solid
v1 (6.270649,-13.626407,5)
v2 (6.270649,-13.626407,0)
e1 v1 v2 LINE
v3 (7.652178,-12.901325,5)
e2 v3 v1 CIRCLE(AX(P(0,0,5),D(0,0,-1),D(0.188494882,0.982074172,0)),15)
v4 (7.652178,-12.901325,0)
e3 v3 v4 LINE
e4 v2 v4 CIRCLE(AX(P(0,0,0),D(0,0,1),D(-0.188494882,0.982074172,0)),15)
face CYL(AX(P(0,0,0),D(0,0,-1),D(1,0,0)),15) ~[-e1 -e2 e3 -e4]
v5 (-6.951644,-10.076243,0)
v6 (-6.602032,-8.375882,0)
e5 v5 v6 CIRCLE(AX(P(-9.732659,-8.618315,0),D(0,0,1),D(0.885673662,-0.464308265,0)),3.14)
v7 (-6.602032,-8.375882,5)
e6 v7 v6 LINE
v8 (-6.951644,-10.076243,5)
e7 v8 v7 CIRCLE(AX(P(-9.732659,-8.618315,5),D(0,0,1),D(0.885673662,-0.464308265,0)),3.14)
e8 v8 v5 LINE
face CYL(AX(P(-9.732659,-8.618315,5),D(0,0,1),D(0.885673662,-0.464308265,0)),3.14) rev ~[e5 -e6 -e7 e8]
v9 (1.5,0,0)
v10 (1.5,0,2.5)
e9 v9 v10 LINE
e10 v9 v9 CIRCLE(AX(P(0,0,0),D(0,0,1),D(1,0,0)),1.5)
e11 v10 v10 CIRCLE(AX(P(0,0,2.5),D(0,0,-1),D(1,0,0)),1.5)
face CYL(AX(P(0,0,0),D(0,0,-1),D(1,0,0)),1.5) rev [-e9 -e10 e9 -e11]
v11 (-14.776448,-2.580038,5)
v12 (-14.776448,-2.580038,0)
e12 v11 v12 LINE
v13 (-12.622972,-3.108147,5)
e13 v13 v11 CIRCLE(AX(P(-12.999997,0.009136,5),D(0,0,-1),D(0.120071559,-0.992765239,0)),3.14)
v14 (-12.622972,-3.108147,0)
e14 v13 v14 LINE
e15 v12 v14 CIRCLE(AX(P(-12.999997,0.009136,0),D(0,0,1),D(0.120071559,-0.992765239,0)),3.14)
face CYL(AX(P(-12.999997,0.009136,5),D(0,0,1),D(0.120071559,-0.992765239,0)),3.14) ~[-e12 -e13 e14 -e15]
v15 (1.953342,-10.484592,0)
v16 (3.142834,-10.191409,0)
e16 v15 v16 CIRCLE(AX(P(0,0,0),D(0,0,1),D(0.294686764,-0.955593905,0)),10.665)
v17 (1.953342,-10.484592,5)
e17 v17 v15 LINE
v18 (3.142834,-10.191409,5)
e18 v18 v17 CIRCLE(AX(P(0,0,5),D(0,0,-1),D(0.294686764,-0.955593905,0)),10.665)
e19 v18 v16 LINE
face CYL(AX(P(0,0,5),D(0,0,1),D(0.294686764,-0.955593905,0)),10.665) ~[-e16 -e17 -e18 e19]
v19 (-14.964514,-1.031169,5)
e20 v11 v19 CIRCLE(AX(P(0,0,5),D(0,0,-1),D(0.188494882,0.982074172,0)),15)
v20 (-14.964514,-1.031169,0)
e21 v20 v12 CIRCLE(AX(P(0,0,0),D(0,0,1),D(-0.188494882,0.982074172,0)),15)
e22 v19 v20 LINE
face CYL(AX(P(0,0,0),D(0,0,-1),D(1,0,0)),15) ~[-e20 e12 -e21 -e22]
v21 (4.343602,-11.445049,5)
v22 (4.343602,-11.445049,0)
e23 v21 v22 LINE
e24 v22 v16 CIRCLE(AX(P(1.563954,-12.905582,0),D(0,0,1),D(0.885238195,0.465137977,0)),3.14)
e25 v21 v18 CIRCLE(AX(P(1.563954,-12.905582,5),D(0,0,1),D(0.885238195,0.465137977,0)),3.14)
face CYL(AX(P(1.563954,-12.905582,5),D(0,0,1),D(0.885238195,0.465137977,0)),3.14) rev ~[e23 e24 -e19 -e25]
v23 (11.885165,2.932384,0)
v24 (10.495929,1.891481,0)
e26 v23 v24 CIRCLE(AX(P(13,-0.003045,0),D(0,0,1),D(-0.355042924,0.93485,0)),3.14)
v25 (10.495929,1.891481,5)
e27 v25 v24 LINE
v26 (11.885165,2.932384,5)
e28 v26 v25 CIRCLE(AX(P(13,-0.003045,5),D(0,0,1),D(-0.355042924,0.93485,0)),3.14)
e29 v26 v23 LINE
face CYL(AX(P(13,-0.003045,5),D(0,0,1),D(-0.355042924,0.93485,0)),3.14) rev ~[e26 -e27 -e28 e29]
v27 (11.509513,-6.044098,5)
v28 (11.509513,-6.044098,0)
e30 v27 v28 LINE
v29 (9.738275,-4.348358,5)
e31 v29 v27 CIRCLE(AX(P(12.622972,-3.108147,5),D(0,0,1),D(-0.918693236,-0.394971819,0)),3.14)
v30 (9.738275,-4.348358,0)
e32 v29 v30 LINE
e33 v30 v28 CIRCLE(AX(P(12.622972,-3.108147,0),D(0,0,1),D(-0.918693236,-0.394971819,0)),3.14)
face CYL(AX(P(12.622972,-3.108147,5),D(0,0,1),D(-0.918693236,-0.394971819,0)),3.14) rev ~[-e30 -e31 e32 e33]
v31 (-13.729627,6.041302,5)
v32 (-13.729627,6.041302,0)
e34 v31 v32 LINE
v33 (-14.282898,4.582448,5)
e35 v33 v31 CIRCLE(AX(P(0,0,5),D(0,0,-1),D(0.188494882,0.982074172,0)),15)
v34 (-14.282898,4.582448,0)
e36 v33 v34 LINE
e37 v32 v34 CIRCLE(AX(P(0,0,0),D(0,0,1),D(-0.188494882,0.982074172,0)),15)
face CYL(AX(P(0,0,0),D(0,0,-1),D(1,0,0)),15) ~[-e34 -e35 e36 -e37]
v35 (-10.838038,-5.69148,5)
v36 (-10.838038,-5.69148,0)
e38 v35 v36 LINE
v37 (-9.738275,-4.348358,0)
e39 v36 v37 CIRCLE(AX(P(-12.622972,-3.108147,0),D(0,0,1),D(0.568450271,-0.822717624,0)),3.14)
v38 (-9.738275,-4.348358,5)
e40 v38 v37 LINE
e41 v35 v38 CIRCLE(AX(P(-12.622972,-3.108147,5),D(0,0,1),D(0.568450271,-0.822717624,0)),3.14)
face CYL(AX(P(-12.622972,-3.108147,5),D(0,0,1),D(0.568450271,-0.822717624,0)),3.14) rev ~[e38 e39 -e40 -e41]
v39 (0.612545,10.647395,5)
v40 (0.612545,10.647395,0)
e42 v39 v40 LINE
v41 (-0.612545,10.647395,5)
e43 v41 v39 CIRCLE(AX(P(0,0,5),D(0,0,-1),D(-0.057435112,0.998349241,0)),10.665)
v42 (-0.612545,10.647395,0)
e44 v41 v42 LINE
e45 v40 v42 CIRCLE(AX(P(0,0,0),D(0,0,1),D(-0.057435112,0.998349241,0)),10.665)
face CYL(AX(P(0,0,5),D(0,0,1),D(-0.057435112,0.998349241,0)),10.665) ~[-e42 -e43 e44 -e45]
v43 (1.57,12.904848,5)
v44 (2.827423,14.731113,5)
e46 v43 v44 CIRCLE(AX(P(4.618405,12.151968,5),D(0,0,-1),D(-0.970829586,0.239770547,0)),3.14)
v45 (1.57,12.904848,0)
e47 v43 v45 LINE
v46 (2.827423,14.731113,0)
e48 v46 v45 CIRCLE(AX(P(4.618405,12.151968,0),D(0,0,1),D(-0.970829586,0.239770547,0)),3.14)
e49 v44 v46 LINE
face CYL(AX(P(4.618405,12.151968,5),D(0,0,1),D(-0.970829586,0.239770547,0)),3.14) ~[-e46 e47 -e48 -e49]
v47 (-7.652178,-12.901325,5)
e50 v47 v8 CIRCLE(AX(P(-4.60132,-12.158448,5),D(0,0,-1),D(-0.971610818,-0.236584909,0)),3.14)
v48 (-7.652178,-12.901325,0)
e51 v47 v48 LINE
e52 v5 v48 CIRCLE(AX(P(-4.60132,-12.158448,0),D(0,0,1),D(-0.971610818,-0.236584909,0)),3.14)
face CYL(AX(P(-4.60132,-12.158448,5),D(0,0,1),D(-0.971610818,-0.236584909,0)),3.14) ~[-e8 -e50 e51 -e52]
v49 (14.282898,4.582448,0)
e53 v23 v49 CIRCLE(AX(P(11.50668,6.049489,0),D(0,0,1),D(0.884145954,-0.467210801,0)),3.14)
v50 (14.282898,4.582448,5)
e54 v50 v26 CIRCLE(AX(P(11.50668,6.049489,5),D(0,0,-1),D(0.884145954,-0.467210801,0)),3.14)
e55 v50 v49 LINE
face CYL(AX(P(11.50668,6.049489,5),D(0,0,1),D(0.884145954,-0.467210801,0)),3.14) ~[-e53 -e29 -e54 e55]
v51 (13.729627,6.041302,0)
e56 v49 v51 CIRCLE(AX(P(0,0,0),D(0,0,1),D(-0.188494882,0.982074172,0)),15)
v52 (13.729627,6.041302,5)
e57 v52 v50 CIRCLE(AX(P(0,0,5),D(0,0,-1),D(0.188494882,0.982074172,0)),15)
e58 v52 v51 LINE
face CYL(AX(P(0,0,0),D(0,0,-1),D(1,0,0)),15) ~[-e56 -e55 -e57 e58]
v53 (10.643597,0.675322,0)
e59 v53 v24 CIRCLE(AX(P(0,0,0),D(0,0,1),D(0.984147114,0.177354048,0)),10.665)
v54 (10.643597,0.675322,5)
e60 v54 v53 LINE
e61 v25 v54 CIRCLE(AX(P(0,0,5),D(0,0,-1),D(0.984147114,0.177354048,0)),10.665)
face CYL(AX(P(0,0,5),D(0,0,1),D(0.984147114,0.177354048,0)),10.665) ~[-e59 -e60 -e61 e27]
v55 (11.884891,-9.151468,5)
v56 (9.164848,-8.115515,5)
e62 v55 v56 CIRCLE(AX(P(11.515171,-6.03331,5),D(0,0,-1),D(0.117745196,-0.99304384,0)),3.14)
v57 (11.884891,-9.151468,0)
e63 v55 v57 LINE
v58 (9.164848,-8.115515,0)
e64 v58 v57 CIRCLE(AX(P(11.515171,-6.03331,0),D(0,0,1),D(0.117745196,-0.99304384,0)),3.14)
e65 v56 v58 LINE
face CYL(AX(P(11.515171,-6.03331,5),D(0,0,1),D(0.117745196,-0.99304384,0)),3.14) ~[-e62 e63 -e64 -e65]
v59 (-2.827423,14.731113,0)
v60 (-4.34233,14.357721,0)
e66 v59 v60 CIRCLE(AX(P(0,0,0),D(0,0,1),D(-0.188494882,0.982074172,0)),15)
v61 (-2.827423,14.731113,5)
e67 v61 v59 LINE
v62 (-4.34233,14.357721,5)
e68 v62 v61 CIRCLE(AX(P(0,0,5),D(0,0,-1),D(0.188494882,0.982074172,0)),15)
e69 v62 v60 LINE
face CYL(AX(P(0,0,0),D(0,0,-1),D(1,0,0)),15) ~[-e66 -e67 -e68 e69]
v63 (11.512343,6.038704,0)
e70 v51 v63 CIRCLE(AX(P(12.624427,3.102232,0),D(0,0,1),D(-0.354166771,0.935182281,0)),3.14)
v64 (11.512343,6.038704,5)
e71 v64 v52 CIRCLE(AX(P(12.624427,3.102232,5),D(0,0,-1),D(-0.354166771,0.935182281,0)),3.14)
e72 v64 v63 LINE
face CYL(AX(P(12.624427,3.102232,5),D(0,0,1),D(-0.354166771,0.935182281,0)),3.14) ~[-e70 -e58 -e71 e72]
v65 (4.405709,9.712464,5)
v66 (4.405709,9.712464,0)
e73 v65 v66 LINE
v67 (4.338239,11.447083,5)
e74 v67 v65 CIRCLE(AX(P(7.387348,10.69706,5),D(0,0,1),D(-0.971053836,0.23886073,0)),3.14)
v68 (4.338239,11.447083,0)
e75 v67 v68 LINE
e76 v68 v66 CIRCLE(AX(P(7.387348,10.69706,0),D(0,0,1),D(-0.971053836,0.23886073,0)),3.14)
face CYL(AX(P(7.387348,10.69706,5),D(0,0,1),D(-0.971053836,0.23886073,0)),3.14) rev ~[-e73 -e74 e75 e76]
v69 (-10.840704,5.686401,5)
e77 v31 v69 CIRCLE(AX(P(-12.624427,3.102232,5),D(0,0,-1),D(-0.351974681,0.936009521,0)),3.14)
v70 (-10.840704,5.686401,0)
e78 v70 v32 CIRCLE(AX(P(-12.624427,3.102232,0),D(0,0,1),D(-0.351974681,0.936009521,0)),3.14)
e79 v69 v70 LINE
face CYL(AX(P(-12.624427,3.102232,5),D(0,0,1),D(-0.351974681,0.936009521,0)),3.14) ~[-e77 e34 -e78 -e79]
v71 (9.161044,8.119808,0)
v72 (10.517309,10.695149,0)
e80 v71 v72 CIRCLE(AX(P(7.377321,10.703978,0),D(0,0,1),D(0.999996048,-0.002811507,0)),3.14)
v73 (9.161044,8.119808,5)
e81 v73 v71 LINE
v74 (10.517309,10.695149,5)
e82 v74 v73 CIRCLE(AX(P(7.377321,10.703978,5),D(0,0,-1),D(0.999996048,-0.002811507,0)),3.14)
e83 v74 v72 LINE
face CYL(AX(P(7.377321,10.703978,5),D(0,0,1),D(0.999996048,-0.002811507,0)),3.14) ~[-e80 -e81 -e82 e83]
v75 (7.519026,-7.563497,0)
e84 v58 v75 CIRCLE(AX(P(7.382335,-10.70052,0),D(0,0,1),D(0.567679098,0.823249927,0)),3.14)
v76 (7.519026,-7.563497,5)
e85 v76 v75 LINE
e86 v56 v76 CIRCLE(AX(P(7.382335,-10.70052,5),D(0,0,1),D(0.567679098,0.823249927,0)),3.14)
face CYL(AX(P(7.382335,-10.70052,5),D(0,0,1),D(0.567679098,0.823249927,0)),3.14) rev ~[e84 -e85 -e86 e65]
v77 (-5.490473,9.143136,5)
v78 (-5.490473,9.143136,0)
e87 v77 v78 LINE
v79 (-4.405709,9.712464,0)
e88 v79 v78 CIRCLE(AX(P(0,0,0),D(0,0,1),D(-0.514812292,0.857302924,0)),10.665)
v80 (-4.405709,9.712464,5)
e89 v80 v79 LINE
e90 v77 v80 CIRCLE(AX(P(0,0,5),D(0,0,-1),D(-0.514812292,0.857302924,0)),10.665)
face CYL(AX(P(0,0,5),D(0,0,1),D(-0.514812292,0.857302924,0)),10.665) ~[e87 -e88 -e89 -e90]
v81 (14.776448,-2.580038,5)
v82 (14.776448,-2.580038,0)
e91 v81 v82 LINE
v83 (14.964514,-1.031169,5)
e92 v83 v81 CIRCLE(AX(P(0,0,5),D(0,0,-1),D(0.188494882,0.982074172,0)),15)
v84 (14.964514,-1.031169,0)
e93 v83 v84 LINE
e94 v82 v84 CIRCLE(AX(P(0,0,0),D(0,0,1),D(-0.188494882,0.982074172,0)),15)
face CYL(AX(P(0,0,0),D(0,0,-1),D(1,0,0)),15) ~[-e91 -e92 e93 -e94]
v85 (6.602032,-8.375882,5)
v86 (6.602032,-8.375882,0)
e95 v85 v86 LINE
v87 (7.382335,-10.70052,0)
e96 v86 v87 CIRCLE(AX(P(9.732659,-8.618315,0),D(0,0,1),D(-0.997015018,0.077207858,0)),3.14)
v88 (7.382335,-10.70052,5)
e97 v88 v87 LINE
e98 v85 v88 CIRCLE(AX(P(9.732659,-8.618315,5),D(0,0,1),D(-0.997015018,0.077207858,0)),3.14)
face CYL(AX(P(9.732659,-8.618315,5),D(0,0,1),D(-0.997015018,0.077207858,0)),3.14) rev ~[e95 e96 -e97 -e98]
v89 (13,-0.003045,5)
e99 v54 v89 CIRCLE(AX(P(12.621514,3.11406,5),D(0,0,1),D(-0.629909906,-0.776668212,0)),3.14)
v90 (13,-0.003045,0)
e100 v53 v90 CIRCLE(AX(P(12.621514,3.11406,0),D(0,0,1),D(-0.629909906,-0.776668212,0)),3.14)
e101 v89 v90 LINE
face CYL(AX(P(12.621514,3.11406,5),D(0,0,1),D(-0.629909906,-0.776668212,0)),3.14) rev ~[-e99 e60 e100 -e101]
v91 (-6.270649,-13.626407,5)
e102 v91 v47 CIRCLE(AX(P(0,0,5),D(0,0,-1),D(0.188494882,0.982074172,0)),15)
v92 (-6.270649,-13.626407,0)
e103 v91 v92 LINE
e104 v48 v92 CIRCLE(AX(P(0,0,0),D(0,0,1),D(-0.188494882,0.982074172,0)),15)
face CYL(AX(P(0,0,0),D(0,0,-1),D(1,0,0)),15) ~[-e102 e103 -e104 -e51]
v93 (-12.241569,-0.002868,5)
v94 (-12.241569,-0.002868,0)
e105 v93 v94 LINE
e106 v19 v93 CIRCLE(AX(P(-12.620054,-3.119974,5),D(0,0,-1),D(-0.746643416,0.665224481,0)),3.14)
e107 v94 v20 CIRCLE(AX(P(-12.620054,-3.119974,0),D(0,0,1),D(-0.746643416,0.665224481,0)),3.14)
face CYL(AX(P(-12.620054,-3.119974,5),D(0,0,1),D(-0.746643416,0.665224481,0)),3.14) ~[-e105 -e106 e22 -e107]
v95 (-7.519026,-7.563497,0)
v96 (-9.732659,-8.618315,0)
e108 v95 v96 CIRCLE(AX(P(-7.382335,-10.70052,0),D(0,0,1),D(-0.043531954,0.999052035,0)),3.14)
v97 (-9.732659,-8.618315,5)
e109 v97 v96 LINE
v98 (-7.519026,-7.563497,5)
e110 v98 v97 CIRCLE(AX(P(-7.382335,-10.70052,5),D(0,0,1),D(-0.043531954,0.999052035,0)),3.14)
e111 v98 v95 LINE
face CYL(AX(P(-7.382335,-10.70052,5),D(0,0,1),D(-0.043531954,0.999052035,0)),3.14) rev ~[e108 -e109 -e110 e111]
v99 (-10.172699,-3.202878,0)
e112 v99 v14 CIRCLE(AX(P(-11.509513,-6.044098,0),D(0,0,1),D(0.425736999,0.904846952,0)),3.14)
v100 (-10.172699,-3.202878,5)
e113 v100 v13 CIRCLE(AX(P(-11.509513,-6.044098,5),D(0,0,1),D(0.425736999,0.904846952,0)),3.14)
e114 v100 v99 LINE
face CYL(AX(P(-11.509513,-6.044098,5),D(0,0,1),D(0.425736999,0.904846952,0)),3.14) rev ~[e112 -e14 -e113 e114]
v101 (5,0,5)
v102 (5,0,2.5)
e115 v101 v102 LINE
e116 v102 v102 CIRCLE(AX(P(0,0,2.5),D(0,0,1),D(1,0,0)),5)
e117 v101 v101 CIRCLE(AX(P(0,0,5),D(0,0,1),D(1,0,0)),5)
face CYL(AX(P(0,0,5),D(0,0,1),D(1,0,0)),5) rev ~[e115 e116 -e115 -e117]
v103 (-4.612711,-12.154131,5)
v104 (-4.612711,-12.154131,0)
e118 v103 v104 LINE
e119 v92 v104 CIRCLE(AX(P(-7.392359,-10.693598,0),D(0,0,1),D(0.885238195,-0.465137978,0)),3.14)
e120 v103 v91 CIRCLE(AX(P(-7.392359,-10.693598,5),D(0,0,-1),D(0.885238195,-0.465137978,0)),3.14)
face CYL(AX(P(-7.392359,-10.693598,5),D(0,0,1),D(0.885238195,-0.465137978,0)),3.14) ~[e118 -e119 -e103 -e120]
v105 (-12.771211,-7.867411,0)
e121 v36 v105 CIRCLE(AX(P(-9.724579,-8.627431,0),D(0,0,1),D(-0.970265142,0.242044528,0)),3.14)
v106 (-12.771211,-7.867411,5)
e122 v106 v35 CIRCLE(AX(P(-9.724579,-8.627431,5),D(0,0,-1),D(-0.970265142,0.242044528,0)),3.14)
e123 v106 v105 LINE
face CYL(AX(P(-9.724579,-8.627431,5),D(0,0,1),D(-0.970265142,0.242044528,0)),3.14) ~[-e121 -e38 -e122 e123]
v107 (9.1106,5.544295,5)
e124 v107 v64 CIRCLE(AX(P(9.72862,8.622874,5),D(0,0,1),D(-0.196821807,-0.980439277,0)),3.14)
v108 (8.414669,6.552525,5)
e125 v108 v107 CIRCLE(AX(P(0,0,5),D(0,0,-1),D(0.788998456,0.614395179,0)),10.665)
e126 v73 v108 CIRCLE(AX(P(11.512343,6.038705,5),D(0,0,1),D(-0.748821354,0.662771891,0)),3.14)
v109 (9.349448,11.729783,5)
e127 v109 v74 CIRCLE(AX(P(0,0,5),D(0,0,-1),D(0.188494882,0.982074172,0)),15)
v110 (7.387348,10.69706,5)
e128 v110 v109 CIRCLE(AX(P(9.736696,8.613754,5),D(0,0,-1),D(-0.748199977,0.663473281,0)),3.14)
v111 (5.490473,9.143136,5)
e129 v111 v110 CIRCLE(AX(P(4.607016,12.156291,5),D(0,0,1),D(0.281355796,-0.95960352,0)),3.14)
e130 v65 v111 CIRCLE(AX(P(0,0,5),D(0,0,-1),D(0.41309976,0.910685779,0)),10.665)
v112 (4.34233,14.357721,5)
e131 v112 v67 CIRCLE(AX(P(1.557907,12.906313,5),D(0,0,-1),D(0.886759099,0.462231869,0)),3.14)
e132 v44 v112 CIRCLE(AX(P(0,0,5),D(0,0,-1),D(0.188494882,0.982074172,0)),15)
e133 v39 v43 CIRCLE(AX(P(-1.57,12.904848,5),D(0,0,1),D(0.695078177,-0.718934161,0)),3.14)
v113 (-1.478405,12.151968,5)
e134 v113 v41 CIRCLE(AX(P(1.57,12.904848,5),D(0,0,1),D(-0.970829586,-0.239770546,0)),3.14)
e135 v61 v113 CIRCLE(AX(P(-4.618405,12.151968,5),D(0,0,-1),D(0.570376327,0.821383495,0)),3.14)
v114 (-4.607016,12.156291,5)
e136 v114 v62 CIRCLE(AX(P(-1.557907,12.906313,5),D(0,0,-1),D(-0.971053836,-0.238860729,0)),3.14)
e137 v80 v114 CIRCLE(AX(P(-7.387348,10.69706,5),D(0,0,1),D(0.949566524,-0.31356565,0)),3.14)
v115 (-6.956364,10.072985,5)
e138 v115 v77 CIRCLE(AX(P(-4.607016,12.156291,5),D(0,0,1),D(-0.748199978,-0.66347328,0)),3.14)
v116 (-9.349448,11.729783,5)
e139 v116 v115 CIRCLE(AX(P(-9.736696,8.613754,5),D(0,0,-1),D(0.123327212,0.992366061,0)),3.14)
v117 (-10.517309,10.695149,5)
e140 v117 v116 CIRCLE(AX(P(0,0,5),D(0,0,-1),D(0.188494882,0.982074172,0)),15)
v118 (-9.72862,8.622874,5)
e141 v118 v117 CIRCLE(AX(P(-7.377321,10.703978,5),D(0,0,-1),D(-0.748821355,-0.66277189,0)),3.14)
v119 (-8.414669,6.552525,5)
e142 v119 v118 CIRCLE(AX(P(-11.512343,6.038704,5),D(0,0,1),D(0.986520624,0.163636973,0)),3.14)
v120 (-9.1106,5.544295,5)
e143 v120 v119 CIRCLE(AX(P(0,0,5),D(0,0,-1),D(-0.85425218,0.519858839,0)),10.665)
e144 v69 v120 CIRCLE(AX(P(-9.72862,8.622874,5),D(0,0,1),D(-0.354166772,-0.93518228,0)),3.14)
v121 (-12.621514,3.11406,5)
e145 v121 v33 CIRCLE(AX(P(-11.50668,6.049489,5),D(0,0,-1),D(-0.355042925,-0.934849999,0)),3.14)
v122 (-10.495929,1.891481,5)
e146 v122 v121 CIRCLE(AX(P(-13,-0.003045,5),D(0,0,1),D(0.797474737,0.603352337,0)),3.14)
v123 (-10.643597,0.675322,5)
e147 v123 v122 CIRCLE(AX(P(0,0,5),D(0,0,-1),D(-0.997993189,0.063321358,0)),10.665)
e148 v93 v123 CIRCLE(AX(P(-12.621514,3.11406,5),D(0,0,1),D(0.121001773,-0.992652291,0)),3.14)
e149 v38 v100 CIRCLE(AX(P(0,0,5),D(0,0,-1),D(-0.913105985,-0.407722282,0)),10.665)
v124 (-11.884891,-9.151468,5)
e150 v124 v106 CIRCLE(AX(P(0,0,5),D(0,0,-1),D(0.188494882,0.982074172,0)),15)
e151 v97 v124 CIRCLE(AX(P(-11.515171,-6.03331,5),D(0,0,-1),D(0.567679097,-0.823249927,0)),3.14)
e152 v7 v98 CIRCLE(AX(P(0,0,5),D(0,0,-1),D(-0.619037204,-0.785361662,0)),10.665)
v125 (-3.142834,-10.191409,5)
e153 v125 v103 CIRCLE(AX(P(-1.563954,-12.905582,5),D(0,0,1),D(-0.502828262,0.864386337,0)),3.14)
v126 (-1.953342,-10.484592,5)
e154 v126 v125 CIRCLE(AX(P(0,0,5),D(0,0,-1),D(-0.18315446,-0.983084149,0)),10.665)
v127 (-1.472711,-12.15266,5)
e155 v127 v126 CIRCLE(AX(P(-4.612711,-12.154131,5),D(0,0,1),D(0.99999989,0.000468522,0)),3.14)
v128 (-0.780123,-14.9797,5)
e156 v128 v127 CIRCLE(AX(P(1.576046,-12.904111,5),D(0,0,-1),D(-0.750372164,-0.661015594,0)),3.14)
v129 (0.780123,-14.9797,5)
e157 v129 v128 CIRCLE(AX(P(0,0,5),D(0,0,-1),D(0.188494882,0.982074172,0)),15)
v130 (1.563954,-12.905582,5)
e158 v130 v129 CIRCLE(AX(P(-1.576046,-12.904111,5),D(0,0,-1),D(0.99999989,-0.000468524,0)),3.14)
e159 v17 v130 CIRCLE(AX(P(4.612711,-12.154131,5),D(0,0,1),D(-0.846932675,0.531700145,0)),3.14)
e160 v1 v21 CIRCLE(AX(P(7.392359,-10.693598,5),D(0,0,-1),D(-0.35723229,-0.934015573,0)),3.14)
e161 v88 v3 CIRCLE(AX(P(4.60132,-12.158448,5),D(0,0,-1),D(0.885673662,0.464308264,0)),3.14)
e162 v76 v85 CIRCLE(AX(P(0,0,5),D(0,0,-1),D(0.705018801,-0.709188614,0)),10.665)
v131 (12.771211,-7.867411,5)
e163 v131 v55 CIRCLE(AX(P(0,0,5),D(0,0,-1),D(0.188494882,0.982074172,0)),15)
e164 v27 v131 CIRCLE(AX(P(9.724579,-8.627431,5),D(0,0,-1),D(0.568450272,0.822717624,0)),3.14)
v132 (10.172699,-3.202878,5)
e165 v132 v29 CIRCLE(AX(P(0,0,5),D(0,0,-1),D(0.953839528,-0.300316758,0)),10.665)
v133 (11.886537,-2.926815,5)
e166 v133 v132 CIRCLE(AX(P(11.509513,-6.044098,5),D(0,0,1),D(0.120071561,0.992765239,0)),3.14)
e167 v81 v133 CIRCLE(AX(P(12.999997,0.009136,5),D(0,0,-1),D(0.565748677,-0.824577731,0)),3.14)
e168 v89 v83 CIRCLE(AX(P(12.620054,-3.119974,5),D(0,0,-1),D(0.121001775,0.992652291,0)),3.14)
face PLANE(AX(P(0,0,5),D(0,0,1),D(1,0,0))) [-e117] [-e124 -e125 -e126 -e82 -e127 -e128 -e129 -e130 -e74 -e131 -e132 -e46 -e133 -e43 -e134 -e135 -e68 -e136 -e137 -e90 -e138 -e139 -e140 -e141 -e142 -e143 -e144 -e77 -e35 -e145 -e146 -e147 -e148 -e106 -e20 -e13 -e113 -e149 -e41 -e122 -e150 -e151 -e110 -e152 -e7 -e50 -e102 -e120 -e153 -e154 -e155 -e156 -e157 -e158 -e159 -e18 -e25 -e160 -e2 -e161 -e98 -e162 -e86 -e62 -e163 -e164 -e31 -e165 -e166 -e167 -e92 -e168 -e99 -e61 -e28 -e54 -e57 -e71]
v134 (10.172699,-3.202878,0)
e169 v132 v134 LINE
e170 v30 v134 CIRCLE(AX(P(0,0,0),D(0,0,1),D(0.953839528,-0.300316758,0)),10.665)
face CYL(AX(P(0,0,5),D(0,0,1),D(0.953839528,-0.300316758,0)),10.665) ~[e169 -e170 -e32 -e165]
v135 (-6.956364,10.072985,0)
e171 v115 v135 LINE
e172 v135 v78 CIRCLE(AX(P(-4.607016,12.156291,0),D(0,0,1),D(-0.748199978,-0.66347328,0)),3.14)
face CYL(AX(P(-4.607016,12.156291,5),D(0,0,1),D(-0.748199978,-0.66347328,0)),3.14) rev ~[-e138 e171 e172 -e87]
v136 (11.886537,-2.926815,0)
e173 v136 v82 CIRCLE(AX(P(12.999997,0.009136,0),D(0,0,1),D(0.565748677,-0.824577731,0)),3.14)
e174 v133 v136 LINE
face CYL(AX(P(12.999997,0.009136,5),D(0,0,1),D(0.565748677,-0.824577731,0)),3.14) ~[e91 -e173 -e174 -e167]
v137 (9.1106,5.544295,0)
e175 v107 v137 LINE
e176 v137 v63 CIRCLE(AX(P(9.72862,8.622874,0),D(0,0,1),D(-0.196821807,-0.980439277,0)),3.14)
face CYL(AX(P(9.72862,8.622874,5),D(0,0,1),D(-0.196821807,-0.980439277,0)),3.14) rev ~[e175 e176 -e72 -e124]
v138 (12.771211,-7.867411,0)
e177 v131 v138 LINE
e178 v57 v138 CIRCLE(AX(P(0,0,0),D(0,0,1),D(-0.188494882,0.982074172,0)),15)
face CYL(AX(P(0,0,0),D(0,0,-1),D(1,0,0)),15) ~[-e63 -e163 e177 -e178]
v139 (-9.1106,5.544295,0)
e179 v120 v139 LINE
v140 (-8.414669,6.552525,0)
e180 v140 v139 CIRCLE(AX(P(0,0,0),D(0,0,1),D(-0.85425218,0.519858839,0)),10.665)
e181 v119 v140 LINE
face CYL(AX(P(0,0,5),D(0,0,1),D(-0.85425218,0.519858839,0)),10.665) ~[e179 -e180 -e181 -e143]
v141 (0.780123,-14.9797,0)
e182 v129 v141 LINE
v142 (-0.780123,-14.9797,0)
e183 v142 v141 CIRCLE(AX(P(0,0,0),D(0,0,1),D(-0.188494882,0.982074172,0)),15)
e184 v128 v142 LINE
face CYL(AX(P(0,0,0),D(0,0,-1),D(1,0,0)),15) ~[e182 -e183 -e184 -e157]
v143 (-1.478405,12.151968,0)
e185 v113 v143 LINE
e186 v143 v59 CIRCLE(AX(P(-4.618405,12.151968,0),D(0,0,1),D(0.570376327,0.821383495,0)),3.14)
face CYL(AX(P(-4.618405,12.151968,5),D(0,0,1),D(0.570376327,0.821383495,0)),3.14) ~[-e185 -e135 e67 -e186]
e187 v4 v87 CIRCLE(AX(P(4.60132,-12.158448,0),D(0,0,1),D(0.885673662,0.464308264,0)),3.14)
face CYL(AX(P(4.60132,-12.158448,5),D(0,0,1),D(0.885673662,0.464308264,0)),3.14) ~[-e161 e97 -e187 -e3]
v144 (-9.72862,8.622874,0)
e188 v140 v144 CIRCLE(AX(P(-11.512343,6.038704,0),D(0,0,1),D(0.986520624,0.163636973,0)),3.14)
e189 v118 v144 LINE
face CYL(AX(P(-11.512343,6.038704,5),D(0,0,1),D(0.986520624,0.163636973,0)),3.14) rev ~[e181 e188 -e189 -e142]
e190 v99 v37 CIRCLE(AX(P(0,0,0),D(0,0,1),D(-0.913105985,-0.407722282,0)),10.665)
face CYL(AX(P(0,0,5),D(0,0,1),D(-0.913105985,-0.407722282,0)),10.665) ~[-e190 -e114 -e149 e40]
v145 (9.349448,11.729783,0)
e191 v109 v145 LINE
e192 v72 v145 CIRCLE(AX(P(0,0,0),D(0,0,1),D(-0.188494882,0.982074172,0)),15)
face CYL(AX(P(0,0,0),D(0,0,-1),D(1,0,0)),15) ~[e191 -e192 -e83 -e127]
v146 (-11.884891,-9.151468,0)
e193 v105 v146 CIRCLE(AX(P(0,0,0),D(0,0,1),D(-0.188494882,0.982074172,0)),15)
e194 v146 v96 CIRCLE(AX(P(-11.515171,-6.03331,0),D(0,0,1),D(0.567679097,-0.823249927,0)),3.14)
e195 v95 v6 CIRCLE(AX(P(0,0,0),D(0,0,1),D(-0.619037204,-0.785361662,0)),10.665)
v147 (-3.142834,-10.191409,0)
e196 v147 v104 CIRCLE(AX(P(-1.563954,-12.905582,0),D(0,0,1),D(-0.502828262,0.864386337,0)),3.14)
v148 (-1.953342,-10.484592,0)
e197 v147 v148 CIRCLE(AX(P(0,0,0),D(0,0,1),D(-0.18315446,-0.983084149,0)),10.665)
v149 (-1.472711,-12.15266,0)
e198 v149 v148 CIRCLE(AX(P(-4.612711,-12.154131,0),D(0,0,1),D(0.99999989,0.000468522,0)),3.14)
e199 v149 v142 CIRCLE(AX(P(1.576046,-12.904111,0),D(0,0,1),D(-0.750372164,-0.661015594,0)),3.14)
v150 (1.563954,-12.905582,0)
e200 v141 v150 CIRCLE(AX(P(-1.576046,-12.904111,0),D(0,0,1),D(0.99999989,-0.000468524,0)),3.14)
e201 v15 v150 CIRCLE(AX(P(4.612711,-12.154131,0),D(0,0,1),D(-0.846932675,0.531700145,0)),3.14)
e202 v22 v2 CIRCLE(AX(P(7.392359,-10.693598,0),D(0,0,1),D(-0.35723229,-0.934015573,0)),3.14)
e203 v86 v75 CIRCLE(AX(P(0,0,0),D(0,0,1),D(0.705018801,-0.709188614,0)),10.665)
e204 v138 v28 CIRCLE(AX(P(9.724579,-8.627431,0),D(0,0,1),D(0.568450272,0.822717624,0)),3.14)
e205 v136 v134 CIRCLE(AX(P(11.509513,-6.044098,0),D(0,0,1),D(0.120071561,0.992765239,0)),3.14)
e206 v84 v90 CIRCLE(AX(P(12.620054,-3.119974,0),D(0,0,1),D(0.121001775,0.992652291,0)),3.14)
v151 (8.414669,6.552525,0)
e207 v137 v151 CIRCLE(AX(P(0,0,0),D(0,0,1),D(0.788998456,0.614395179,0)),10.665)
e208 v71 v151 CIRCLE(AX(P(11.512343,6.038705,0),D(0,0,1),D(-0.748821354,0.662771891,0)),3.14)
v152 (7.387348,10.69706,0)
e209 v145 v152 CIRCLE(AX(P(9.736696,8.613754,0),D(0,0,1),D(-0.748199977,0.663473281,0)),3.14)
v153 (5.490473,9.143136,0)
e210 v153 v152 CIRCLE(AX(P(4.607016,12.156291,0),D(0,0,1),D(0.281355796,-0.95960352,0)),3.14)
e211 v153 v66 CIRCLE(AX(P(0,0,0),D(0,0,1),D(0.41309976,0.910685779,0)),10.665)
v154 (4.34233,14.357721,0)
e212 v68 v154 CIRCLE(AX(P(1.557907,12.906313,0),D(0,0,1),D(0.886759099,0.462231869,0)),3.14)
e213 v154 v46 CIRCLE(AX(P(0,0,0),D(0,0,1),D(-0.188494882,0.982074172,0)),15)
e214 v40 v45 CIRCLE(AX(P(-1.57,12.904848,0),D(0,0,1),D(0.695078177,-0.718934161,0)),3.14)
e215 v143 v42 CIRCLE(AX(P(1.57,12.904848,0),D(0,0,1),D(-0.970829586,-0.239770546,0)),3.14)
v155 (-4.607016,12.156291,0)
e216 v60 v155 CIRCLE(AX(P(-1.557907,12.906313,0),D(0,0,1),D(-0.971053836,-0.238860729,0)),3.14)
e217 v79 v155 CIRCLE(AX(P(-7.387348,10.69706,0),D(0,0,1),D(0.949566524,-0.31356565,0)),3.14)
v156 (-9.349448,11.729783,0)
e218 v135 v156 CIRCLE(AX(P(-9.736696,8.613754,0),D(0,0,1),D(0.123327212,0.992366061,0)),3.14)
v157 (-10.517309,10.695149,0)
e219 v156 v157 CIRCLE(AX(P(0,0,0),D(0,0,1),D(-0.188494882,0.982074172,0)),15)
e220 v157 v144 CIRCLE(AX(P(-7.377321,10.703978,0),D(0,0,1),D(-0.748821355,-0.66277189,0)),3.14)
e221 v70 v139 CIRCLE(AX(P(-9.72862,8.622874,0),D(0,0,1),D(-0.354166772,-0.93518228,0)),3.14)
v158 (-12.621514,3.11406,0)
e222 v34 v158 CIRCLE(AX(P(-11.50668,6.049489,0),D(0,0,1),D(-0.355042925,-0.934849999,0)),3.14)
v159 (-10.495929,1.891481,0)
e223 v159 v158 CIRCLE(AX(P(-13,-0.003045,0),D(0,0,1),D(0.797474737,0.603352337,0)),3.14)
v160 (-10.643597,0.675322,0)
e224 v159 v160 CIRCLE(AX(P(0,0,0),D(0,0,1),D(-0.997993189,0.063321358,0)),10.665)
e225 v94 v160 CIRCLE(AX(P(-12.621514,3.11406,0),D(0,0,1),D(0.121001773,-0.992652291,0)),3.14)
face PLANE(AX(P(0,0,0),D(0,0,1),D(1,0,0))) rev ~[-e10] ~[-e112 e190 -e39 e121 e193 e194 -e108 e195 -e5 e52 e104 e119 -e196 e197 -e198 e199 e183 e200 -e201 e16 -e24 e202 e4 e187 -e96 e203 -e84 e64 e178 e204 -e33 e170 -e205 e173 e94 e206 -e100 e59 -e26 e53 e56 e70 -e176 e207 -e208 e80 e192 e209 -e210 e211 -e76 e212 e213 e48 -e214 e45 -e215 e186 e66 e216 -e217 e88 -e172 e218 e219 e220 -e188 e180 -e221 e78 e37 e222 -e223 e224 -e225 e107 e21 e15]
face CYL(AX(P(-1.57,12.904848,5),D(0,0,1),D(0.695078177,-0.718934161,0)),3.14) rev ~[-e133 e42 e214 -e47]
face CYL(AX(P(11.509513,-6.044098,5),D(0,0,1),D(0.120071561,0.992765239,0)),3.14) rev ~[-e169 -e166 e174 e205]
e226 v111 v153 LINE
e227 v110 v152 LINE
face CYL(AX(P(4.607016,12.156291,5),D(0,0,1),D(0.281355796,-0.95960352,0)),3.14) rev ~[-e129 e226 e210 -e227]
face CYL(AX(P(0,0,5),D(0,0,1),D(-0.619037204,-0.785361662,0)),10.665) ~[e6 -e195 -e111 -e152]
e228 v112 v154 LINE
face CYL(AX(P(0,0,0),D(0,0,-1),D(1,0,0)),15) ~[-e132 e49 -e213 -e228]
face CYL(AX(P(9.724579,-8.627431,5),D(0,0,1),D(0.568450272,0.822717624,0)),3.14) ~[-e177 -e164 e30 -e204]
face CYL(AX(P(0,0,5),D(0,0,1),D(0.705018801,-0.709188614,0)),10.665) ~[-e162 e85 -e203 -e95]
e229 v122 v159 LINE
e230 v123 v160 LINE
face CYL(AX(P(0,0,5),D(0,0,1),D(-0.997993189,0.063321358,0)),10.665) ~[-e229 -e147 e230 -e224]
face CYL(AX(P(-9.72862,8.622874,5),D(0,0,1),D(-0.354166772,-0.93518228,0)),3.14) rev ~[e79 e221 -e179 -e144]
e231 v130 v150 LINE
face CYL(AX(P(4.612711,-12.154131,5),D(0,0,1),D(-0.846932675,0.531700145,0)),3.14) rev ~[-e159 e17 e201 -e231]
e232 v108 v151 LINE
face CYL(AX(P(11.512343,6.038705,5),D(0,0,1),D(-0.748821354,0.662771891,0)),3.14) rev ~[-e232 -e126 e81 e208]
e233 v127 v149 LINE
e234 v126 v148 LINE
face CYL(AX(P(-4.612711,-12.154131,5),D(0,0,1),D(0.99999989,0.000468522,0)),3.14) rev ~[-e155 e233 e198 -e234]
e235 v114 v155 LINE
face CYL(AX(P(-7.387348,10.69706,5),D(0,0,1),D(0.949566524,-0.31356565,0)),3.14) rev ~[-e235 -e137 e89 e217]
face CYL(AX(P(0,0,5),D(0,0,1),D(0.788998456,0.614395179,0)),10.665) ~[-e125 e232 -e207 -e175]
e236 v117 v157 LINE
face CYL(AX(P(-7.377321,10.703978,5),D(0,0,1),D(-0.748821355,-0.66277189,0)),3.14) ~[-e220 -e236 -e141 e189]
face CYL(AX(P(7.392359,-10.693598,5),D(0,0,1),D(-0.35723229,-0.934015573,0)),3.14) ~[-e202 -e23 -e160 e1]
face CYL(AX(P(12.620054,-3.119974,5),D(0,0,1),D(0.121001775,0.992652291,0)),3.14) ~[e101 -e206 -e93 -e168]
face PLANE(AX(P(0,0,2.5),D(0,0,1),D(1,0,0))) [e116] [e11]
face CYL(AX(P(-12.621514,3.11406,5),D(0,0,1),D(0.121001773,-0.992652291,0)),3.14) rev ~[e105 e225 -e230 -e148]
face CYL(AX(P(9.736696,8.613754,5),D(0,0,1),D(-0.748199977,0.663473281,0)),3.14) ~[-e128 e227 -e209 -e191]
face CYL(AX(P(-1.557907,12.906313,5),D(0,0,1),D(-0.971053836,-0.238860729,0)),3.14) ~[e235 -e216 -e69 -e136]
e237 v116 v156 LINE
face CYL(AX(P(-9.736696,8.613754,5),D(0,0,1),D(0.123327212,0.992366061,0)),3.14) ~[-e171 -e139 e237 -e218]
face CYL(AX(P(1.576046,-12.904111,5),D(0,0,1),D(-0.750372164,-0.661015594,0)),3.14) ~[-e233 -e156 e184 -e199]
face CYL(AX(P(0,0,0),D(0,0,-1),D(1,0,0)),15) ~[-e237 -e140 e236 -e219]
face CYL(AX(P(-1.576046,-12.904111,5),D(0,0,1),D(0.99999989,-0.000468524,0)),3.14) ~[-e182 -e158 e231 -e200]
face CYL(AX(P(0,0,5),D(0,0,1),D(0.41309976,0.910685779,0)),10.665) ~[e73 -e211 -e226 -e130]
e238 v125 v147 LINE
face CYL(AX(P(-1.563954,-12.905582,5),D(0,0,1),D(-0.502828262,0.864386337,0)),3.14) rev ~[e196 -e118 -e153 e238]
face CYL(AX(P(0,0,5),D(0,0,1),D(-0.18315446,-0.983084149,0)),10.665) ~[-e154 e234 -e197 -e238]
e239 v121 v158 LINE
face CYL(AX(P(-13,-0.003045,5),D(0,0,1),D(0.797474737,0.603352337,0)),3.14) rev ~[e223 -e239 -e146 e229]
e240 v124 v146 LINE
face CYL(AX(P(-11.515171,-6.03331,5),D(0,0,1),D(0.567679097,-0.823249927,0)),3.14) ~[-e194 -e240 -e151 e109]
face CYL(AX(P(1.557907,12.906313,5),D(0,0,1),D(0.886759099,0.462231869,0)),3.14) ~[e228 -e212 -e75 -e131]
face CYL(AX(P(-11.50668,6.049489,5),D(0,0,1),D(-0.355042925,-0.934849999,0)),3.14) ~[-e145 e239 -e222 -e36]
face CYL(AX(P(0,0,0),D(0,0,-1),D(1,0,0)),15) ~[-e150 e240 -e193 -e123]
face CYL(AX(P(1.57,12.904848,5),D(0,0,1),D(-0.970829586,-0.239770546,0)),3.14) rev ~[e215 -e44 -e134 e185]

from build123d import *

# Parameters (mm, degrees)
CROQUIS1_R              = 15
CROQUIS1_R_2            = 1.5
SALIENTE_EXTRUIR1_DEPTH = 5
CORTAR_EXTRUIR1_DEPTH   = 22.794494718
MATRIZC1_COUNT          = 13
CROQUIS3_R              = 5
CORTAR_EXTRUIR2_DEPTH   = 2.5


with BuildPart() as part:
    # Croquis1 → Saliente-Extruir1 (new body)
    with BuildSketch(Plane.XY):
        Circle(CROQUIS1_R)
        Circle(CROQUIS1_R_2, mode=Mode.SUBTRACT)
    extrude(amount=SALIENTE_EXTRUIR1_DEPTH)

    # Croquis2 → Cortar-Extruir1 (cut, through all)
    with BuildSketch(Plane.XY.offset(5)):
        with BuildLine():
            ThreePointArc((2.827423232, 14.731112581), (0, 15), (-2.827423232, 14.731112581))
            ThreePointArc((-2.827423232, 14.731112581), (-1.836024404, 13.60728926), (-1.478404899, 12.151968408))
            ThreePointArc((-1.478404899, 12.151968408), (-1.151515386, 11.338657004), (-0.612545475, 10.64739466))
            ThreePointArc((-0.612545475, 10.64739466), (0, 10.665), (0.612545475, 10.64739466))
            ThreePointArc((0.612545475, 10.64739466), (1.320743225, 11.678795886), (1.57, 12.904847926))
            ThreePointArc((1.57, 12.904847926), (2.032147713, 13.93266315), (2.827423232, 14.731112581))
        make_face()
    cortar_extruir1 = extrude(amount=-CORTAR_EXTRUIR1_DEPTH, mode=Mode.SUBTRACT)

    # MatrizC1: Cortar-Extruir1 ×13 about axis
    matrizc1_axis = Axis((0, 0, 0), (0, 0, 1))
    for i in range(1, MATRIZC1_COUNT):
        add(cortar_extruir1.rotate(matrizc1_axis, i * 360 / MATRIZC1_COUNT), mode=Mode.SUBTRACT)

    # Croquis3 → Cortar-Extruir2 (cut)
    with BuildSketch(Plane.XY.offset(5)):
        Circle(CROQUIS3_R)
    extrude(amount=-CORTAR_EXTRUIR2_DEPTH, mode=Mode.SUBTRACT)


solid = part.part
